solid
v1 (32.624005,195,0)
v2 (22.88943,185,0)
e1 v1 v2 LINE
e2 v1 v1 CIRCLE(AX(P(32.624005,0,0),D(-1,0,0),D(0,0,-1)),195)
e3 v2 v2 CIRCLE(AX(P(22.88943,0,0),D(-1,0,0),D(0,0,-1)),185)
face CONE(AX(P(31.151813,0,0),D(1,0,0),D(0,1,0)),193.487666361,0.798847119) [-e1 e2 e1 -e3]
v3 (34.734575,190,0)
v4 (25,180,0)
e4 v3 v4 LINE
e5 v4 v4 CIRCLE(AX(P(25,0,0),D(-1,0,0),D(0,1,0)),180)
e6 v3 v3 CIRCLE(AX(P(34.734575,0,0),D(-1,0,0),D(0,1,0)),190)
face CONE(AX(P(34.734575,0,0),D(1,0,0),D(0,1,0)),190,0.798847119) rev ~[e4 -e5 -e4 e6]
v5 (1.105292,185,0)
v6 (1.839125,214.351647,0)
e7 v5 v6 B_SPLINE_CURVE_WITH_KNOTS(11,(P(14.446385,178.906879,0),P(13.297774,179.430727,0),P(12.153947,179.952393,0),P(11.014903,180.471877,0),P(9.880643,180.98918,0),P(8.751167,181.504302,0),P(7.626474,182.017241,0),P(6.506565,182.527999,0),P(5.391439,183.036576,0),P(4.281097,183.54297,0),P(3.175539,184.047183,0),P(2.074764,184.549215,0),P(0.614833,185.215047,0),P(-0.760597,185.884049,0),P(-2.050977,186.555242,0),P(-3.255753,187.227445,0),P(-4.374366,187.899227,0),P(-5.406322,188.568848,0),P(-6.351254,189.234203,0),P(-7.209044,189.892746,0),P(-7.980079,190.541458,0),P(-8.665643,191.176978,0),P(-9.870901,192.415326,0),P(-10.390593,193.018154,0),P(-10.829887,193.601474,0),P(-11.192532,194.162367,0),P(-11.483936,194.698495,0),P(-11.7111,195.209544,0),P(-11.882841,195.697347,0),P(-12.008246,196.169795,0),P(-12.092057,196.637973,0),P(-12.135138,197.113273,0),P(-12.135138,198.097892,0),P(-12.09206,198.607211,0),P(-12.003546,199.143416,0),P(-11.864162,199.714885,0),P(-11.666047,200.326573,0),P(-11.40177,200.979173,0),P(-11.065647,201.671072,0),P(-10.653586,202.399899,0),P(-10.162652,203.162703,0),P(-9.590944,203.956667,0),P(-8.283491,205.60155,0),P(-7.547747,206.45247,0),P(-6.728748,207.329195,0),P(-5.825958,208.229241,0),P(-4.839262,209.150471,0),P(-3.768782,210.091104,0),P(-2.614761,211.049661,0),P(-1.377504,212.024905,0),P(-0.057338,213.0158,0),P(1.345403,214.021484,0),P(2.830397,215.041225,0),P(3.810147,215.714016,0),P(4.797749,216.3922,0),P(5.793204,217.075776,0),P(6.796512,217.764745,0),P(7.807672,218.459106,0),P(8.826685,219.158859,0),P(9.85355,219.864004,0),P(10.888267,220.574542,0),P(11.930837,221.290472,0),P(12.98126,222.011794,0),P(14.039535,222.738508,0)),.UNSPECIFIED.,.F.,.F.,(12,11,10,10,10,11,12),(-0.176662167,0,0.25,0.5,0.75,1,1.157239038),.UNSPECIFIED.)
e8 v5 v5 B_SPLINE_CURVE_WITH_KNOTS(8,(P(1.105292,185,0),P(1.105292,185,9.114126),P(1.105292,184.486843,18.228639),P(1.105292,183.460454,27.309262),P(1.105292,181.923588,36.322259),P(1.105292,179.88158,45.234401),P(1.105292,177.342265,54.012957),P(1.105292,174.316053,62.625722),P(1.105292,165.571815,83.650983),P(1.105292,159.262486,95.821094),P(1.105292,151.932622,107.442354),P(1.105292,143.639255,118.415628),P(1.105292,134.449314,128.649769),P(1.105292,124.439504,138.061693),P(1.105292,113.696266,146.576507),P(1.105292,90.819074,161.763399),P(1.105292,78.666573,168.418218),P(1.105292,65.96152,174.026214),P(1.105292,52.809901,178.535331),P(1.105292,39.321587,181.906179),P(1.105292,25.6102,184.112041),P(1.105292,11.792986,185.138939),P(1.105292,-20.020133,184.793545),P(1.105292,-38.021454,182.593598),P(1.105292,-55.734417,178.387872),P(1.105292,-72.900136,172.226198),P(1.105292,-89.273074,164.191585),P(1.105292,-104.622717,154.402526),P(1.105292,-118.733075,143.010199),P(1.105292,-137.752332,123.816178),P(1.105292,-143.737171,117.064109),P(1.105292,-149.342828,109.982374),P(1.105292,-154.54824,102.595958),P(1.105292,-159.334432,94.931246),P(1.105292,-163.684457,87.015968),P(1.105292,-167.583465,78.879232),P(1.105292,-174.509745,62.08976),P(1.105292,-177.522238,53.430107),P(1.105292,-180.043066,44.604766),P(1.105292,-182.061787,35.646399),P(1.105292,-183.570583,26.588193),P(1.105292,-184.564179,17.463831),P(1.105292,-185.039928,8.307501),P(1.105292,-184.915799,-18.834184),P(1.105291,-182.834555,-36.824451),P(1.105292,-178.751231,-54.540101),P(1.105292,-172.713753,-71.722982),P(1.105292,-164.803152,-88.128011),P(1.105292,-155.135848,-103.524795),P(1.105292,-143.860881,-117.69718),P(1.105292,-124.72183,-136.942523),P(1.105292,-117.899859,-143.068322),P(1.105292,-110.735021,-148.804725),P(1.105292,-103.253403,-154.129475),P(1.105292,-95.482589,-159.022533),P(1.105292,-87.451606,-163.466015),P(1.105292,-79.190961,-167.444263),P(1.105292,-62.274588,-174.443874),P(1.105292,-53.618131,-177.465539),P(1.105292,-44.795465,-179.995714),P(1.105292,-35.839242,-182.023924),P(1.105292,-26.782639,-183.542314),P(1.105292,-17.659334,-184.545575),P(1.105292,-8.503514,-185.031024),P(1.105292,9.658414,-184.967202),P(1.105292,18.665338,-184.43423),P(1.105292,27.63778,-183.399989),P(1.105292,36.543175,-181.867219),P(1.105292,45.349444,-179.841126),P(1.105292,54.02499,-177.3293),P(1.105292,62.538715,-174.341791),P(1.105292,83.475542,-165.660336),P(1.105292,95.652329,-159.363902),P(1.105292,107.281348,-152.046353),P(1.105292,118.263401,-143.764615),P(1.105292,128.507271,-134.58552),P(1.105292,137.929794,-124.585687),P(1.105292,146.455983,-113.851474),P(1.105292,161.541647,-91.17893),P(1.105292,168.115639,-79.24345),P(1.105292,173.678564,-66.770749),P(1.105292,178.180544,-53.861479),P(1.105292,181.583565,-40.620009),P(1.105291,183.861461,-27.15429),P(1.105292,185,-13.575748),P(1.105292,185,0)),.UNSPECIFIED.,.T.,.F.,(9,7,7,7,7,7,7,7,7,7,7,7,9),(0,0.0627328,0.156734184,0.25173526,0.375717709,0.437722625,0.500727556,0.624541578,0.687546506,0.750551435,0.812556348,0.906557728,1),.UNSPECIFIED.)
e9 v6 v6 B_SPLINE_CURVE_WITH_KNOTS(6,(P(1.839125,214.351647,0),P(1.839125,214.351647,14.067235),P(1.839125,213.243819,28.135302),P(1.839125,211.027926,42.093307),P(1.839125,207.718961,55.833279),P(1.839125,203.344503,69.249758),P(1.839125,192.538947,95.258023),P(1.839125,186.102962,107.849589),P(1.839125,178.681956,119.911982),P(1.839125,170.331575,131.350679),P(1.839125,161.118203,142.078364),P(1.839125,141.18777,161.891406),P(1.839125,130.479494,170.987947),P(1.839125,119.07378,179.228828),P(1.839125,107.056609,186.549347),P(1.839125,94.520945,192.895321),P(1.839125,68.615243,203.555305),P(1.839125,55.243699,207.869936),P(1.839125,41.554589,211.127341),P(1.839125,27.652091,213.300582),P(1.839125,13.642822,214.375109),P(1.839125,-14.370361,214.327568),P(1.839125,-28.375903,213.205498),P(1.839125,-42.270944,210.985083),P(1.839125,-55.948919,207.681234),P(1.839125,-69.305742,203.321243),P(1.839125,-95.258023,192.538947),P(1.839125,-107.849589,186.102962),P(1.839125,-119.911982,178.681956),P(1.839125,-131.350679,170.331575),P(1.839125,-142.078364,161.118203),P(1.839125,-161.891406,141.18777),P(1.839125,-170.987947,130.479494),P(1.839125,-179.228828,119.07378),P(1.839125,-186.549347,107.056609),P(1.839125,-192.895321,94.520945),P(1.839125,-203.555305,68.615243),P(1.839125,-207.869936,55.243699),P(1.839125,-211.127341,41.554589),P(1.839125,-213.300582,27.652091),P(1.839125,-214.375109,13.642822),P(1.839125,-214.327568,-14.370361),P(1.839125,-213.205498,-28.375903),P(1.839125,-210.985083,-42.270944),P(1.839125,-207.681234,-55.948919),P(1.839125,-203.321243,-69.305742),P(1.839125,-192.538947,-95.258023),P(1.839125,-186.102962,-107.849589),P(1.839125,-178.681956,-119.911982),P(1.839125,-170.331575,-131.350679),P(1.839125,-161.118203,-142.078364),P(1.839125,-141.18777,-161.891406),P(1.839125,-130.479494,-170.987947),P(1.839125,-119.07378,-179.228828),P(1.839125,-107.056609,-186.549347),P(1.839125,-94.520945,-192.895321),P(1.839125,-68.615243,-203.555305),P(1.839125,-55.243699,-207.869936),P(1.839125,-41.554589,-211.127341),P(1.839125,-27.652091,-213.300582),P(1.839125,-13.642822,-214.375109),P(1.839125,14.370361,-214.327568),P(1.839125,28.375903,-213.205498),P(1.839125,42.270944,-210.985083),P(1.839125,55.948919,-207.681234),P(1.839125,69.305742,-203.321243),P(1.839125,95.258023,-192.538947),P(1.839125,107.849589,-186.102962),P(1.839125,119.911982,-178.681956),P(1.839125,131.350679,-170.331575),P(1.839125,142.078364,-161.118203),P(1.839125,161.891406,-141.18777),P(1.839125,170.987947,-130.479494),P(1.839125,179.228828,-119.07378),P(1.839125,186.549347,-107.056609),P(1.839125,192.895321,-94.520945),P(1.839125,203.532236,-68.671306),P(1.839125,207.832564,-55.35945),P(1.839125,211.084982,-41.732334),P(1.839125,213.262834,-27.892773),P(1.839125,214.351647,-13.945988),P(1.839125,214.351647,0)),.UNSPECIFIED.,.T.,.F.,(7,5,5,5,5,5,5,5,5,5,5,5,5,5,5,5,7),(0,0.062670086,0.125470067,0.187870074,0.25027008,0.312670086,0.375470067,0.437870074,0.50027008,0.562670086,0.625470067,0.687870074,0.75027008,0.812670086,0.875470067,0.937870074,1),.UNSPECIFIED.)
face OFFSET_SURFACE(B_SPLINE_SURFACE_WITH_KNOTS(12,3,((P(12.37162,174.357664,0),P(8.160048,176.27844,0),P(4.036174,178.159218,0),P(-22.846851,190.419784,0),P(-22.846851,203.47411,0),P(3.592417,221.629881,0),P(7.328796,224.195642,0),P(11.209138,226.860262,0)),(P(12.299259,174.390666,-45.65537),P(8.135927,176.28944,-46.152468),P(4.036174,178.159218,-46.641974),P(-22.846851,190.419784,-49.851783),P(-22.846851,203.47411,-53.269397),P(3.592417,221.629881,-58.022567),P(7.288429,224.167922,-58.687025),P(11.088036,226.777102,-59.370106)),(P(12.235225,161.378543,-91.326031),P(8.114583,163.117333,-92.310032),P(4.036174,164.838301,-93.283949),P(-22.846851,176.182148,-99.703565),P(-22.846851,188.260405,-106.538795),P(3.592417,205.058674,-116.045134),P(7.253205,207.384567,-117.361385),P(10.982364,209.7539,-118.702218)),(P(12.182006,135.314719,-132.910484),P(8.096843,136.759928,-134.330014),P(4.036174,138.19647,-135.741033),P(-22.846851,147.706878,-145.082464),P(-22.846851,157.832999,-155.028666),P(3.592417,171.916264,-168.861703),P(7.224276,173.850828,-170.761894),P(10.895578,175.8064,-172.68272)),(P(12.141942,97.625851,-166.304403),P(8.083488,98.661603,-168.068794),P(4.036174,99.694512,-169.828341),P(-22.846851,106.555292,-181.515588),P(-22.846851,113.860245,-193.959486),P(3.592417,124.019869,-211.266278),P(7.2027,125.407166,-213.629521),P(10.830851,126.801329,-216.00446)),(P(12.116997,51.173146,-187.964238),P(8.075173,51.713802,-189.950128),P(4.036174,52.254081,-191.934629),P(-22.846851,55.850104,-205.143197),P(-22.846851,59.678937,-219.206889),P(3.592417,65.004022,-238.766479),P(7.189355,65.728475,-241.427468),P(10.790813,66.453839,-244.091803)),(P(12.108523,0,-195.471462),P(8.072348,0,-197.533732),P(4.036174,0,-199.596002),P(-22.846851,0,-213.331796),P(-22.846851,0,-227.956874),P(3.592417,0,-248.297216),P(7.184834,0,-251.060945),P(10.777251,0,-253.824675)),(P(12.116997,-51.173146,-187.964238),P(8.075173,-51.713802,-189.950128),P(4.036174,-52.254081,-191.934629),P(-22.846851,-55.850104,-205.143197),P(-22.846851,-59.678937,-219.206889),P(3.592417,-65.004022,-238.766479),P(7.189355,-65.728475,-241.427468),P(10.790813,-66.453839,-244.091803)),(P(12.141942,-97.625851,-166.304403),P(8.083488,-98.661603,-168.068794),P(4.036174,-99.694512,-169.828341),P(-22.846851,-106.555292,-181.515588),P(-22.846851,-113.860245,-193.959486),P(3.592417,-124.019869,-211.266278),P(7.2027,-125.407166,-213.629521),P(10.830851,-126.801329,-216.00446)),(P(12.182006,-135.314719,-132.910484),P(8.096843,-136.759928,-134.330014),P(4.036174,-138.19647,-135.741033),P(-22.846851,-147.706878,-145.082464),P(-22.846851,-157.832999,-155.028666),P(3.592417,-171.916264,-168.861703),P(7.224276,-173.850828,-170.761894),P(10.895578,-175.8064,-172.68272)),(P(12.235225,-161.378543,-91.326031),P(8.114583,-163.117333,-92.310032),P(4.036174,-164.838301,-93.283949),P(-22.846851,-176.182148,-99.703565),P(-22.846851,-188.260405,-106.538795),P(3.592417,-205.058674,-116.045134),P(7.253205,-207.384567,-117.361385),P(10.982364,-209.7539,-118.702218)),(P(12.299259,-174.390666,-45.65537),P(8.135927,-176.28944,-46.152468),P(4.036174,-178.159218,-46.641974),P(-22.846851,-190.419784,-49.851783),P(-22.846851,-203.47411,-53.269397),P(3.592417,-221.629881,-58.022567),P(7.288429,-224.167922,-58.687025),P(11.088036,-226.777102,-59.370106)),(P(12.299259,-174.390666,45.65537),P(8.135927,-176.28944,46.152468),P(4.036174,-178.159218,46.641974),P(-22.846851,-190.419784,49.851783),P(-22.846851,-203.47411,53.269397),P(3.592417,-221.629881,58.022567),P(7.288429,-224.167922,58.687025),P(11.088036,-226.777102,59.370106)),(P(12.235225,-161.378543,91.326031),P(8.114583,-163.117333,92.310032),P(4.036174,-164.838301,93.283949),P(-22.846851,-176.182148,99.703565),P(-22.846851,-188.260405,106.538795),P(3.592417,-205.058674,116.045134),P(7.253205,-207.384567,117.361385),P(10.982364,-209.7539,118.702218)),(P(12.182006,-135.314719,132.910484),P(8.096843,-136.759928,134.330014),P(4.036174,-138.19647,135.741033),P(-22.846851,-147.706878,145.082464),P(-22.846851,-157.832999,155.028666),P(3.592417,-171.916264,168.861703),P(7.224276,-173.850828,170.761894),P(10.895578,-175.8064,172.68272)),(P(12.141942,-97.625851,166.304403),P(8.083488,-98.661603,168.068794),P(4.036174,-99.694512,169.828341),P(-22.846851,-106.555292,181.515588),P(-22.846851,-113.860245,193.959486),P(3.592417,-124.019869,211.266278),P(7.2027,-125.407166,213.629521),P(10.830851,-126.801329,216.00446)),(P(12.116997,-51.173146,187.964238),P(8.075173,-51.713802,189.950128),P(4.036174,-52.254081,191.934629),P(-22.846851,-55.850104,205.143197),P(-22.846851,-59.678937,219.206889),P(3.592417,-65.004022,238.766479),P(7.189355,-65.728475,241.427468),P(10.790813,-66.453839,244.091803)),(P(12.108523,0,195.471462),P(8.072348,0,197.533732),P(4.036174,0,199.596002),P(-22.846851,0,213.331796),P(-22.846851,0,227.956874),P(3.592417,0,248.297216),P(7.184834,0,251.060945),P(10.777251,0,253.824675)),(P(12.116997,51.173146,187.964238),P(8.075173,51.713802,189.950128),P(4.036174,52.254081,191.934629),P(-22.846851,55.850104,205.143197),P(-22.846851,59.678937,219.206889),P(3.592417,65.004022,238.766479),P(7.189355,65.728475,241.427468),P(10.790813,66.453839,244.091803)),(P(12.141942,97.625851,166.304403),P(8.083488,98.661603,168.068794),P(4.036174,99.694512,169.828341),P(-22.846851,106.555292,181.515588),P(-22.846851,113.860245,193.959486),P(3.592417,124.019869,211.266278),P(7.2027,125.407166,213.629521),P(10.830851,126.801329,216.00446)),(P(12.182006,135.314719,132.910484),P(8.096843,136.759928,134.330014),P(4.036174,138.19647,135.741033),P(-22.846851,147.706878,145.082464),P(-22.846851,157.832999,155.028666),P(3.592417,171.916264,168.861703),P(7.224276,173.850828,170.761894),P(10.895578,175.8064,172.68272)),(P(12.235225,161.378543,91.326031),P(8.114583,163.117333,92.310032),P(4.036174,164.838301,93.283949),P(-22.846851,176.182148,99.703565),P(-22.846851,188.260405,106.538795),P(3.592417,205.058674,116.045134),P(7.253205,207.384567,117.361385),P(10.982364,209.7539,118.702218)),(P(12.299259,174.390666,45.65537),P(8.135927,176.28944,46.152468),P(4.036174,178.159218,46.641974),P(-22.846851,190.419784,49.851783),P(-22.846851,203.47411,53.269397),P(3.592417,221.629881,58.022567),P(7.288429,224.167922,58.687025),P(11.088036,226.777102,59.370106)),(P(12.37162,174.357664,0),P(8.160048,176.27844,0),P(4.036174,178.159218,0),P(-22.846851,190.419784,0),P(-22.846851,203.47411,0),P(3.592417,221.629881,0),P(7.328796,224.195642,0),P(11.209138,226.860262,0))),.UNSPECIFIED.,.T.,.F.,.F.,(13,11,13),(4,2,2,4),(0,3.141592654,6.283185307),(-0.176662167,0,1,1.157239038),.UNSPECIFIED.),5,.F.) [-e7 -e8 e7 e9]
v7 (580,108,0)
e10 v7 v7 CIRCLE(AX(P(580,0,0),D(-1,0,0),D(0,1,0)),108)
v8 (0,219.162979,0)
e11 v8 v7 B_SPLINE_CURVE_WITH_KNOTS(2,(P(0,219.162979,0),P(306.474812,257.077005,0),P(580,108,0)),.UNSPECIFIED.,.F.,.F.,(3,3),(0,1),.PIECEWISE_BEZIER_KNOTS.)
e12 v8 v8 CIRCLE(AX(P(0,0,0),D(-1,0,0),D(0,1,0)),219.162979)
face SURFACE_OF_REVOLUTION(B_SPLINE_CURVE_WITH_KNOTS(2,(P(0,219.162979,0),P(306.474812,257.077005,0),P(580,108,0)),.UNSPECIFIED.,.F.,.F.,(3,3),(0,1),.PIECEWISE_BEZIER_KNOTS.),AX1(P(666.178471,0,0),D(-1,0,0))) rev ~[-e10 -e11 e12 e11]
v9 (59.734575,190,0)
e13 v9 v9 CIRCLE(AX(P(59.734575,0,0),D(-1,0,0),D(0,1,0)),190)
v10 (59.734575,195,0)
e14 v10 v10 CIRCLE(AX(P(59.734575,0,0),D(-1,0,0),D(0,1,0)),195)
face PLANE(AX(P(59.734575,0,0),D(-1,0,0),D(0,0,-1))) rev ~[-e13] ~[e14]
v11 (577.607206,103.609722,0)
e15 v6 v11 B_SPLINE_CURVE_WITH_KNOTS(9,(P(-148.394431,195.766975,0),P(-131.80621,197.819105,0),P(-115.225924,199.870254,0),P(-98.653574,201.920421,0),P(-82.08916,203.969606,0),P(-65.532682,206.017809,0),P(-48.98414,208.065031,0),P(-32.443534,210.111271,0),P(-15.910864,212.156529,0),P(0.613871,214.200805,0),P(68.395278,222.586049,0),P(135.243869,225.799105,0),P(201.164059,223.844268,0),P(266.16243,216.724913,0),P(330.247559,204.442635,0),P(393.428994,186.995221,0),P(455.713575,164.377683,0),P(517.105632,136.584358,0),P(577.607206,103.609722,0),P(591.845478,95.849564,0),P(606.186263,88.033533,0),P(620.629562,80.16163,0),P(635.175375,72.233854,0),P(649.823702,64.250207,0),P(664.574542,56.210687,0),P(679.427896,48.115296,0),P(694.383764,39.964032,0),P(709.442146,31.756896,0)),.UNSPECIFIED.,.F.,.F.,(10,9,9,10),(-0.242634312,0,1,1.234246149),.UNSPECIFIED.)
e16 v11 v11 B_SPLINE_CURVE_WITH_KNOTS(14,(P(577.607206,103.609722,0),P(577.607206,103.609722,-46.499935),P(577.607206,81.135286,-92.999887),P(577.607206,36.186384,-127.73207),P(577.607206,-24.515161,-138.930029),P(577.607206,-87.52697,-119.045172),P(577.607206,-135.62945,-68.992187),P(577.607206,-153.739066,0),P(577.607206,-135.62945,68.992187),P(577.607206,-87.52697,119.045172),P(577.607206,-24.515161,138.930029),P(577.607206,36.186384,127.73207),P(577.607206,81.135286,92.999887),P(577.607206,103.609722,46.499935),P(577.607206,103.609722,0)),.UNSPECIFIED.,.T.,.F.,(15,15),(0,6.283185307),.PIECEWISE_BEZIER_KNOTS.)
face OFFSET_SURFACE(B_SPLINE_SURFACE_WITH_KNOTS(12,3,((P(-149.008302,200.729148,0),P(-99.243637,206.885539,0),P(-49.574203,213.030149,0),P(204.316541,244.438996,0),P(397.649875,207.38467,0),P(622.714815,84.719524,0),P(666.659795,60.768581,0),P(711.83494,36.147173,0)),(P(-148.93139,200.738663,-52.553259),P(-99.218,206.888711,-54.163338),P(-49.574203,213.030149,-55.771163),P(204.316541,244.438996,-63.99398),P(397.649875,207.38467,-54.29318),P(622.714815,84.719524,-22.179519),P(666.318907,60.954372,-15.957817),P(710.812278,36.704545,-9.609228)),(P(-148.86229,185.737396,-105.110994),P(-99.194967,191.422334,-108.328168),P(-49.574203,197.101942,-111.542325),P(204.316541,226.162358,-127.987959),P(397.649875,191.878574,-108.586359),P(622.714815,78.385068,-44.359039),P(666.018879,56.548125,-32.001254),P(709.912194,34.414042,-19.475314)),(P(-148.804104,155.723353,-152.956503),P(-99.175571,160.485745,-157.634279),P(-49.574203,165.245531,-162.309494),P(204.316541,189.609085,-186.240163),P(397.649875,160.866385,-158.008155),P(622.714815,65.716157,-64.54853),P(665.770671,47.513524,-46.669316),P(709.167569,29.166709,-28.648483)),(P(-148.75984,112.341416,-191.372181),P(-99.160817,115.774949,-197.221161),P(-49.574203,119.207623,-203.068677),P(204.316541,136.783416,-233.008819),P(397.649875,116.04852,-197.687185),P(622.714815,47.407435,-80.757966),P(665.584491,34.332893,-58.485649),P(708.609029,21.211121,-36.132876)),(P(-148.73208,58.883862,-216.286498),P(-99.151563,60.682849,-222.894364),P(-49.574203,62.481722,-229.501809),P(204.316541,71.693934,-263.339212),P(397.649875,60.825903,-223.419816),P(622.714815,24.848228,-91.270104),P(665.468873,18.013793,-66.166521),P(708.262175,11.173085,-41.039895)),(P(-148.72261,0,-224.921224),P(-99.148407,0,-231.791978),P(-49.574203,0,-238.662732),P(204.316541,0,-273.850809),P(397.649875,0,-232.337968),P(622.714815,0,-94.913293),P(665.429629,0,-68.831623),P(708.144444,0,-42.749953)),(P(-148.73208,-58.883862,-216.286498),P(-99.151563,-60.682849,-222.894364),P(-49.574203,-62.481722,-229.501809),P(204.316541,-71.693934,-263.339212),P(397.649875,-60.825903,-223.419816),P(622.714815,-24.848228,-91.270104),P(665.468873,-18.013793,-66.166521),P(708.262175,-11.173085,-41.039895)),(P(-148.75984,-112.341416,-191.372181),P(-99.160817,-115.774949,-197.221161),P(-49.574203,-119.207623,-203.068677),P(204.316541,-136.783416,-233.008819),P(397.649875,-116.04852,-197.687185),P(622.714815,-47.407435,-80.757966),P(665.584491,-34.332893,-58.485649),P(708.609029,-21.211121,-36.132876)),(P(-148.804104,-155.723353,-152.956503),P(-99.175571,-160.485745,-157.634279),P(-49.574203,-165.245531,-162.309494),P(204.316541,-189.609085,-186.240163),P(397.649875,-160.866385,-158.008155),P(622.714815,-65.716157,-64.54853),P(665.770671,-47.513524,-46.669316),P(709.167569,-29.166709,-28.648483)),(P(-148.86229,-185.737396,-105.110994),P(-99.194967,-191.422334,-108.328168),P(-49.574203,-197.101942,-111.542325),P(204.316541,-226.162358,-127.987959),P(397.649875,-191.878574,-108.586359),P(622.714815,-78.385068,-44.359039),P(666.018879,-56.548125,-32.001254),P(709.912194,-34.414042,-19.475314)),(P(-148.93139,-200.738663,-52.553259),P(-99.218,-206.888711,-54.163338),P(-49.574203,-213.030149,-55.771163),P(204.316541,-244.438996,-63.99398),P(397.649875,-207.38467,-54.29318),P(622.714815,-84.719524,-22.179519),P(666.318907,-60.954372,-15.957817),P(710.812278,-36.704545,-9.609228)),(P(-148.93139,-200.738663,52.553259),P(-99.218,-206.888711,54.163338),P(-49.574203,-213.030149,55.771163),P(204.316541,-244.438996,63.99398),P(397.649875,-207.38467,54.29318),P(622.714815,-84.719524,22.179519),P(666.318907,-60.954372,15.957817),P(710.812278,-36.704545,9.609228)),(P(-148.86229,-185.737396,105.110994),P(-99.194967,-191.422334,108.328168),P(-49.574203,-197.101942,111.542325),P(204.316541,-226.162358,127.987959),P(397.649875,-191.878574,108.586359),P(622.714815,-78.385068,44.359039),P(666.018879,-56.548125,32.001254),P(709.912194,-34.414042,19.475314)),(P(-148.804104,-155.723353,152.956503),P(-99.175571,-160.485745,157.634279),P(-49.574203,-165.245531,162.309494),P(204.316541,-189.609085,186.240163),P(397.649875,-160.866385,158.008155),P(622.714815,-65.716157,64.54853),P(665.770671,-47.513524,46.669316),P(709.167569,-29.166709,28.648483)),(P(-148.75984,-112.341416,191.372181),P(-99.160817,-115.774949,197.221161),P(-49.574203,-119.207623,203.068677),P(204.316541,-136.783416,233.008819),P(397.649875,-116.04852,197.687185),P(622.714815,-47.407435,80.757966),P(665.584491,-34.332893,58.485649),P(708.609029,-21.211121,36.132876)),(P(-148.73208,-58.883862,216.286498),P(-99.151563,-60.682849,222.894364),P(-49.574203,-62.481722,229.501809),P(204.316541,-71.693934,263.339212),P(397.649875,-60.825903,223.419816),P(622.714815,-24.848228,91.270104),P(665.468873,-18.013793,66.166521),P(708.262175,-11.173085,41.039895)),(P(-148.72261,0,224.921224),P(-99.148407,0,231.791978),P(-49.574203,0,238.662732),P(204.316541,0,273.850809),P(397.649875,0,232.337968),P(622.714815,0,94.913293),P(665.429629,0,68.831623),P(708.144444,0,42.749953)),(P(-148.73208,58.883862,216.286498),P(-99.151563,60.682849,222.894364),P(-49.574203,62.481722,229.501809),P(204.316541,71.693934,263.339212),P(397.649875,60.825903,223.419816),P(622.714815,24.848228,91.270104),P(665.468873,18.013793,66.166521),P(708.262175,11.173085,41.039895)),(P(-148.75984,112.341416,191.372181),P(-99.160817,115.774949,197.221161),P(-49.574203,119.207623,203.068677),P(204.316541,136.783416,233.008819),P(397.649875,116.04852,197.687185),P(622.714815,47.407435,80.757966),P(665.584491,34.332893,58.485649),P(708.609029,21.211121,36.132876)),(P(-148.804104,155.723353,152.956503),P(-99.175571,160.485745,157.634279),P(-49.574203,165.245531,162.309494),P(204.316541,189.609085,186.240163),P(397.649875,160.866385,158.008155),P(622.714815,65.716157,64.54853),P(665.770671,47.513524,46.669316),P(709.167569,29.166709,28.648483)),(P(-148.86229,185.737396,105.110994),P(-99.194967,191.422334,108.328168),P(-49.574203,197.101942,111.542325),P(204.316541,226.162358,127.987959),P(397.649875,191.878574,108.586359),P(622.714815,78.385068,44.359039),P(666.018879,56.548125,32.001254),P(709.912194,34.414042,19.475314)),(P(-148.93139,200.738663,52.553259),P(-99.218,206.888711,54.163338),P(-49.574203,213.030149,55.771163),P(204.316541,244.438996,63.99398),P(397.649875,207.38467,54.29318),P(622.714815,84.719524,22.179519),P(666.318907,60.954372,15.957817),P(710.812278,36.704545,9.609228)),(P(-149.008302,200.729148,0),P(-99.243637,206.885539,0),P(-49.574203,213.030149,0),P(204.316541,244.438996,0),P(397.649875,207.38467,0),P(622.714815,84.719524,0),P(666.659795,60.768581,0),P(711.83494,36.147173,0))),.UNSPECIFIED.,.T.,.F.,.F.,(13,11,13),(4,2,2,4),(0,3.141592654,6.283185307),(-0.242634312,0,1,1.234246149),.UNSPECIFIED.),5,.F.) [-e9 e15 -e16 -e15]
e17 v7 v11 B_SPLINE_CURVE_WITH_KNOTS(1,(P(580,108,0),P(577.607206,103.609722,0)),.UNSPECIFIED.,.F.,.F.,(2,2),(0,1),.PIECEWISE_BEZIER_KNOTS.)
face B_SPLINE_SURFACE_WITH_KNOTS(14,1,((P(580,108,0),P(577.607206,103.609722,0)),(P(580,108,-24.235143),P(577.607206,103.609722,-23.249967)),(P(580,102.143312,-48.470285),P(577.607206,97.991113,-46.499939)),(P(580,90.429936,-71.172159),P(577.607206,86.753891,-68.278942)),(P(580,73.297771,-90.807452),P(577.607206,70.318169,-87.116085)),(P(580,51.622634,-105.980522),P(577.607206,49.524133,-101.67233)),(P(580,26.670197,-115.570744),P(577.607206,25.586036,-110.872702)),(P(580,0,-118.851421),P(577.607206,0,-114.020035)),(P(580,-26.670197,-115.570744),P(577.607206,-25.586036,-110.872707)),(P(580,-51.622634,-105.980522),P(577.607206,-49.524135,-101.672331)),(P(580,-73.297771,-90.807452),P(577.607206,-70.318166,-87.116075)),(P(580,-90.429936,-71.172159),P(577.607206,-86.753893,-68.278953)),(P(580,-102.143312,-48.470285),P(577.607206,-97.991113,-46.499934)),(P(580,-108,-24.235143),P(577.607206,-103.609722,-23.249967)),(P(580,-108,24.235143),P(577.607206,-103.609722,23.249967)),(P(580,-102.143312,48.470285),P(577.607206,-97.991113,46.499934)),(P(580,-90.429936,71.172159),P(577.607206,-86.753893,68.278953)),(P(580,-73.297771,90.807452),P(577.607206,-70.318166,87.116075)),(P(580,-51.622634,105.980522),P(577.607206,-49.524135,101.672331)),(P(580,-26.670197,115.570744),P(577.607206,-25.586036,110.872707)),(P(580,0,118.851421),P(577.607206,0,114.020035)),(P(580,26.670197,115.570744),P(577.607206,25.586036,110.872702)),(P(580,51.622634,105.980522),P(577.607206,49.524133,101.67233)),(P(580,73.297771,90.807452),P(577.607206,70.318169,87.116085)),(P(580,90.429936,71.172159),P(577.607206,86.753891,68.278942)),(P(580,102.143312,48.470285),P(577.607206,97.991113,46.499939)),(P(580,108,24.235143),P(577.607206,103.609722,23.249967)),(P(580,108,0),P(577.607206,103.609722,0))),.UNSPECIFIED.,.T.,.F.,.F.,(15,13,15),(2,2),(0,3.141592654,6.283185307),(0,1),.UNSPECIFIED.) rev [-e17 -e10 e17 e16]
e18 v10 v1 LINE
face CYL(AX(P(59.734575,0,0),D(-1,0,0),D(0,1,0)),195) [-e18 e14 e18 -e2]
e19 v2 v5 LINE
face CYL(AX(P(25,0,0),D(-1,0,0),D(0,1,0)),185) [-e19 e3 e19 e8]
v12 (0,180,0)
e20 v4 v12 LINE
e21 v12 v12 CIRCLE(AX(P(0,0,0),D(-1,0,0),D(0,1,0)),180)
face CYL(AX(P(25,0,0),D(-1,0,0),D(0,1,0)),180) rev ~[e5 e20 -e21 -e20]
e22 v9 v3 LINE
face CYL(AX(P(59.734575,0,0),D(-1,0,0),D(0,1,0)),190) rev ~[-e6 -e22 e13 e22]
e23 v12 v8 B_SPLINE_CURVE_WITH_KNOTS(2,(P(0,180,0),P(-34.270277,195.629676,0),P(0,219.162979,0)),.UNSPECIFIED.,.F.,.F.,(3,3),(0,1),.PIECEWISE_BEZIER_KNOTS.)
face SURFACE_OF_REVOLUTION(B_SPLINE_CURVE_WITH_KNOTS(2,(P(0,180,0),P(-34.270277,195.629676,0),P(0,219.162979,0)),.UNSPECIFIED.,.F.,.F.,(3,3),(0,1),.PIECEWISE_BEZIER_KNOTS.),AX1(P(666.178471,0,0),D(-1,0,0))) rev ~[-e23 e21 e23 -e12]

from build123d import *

# Parameters (mm, degrees)
THICKEN1_T1 = 5


with BuildPart() as body_1:
    # Surface-Revolve1: a surface, the sketch's curves turned about an axis
    with BuildLine(Plane.XY, mode=Mode.PRIVATE) as surface_revolve1_1_path:
        Line((59.734574576, 190), (34.734574576, 190))
        Line((34.734574576, 190), (25, 180))
        Line((25, 180), (0, 180))
        add(Edge.make_bspline(
            [(0, 180), (-34.270276872, 195.629675538), (0, 219.16297851)],
            knots=[0, 0, 0, 1, 1, 1], degree=2))
        add(Edge.make_bspline(
            [(0, 219.16297851), (306.474811975, 257.077004925), (580, 108)],
            knots=[0, 0, 0, 1, 1, 1], degree=2))
    surface_revolve1_1 = Shell.revolve(surface_revolve1_1_path.wire(), 360, Axis((666.178471284, 0, 0), (-1, 0, 0)))
    add(Solid.thicken(surface_revolve1_1, THICKEN1_T1))


solid = body_1.part
